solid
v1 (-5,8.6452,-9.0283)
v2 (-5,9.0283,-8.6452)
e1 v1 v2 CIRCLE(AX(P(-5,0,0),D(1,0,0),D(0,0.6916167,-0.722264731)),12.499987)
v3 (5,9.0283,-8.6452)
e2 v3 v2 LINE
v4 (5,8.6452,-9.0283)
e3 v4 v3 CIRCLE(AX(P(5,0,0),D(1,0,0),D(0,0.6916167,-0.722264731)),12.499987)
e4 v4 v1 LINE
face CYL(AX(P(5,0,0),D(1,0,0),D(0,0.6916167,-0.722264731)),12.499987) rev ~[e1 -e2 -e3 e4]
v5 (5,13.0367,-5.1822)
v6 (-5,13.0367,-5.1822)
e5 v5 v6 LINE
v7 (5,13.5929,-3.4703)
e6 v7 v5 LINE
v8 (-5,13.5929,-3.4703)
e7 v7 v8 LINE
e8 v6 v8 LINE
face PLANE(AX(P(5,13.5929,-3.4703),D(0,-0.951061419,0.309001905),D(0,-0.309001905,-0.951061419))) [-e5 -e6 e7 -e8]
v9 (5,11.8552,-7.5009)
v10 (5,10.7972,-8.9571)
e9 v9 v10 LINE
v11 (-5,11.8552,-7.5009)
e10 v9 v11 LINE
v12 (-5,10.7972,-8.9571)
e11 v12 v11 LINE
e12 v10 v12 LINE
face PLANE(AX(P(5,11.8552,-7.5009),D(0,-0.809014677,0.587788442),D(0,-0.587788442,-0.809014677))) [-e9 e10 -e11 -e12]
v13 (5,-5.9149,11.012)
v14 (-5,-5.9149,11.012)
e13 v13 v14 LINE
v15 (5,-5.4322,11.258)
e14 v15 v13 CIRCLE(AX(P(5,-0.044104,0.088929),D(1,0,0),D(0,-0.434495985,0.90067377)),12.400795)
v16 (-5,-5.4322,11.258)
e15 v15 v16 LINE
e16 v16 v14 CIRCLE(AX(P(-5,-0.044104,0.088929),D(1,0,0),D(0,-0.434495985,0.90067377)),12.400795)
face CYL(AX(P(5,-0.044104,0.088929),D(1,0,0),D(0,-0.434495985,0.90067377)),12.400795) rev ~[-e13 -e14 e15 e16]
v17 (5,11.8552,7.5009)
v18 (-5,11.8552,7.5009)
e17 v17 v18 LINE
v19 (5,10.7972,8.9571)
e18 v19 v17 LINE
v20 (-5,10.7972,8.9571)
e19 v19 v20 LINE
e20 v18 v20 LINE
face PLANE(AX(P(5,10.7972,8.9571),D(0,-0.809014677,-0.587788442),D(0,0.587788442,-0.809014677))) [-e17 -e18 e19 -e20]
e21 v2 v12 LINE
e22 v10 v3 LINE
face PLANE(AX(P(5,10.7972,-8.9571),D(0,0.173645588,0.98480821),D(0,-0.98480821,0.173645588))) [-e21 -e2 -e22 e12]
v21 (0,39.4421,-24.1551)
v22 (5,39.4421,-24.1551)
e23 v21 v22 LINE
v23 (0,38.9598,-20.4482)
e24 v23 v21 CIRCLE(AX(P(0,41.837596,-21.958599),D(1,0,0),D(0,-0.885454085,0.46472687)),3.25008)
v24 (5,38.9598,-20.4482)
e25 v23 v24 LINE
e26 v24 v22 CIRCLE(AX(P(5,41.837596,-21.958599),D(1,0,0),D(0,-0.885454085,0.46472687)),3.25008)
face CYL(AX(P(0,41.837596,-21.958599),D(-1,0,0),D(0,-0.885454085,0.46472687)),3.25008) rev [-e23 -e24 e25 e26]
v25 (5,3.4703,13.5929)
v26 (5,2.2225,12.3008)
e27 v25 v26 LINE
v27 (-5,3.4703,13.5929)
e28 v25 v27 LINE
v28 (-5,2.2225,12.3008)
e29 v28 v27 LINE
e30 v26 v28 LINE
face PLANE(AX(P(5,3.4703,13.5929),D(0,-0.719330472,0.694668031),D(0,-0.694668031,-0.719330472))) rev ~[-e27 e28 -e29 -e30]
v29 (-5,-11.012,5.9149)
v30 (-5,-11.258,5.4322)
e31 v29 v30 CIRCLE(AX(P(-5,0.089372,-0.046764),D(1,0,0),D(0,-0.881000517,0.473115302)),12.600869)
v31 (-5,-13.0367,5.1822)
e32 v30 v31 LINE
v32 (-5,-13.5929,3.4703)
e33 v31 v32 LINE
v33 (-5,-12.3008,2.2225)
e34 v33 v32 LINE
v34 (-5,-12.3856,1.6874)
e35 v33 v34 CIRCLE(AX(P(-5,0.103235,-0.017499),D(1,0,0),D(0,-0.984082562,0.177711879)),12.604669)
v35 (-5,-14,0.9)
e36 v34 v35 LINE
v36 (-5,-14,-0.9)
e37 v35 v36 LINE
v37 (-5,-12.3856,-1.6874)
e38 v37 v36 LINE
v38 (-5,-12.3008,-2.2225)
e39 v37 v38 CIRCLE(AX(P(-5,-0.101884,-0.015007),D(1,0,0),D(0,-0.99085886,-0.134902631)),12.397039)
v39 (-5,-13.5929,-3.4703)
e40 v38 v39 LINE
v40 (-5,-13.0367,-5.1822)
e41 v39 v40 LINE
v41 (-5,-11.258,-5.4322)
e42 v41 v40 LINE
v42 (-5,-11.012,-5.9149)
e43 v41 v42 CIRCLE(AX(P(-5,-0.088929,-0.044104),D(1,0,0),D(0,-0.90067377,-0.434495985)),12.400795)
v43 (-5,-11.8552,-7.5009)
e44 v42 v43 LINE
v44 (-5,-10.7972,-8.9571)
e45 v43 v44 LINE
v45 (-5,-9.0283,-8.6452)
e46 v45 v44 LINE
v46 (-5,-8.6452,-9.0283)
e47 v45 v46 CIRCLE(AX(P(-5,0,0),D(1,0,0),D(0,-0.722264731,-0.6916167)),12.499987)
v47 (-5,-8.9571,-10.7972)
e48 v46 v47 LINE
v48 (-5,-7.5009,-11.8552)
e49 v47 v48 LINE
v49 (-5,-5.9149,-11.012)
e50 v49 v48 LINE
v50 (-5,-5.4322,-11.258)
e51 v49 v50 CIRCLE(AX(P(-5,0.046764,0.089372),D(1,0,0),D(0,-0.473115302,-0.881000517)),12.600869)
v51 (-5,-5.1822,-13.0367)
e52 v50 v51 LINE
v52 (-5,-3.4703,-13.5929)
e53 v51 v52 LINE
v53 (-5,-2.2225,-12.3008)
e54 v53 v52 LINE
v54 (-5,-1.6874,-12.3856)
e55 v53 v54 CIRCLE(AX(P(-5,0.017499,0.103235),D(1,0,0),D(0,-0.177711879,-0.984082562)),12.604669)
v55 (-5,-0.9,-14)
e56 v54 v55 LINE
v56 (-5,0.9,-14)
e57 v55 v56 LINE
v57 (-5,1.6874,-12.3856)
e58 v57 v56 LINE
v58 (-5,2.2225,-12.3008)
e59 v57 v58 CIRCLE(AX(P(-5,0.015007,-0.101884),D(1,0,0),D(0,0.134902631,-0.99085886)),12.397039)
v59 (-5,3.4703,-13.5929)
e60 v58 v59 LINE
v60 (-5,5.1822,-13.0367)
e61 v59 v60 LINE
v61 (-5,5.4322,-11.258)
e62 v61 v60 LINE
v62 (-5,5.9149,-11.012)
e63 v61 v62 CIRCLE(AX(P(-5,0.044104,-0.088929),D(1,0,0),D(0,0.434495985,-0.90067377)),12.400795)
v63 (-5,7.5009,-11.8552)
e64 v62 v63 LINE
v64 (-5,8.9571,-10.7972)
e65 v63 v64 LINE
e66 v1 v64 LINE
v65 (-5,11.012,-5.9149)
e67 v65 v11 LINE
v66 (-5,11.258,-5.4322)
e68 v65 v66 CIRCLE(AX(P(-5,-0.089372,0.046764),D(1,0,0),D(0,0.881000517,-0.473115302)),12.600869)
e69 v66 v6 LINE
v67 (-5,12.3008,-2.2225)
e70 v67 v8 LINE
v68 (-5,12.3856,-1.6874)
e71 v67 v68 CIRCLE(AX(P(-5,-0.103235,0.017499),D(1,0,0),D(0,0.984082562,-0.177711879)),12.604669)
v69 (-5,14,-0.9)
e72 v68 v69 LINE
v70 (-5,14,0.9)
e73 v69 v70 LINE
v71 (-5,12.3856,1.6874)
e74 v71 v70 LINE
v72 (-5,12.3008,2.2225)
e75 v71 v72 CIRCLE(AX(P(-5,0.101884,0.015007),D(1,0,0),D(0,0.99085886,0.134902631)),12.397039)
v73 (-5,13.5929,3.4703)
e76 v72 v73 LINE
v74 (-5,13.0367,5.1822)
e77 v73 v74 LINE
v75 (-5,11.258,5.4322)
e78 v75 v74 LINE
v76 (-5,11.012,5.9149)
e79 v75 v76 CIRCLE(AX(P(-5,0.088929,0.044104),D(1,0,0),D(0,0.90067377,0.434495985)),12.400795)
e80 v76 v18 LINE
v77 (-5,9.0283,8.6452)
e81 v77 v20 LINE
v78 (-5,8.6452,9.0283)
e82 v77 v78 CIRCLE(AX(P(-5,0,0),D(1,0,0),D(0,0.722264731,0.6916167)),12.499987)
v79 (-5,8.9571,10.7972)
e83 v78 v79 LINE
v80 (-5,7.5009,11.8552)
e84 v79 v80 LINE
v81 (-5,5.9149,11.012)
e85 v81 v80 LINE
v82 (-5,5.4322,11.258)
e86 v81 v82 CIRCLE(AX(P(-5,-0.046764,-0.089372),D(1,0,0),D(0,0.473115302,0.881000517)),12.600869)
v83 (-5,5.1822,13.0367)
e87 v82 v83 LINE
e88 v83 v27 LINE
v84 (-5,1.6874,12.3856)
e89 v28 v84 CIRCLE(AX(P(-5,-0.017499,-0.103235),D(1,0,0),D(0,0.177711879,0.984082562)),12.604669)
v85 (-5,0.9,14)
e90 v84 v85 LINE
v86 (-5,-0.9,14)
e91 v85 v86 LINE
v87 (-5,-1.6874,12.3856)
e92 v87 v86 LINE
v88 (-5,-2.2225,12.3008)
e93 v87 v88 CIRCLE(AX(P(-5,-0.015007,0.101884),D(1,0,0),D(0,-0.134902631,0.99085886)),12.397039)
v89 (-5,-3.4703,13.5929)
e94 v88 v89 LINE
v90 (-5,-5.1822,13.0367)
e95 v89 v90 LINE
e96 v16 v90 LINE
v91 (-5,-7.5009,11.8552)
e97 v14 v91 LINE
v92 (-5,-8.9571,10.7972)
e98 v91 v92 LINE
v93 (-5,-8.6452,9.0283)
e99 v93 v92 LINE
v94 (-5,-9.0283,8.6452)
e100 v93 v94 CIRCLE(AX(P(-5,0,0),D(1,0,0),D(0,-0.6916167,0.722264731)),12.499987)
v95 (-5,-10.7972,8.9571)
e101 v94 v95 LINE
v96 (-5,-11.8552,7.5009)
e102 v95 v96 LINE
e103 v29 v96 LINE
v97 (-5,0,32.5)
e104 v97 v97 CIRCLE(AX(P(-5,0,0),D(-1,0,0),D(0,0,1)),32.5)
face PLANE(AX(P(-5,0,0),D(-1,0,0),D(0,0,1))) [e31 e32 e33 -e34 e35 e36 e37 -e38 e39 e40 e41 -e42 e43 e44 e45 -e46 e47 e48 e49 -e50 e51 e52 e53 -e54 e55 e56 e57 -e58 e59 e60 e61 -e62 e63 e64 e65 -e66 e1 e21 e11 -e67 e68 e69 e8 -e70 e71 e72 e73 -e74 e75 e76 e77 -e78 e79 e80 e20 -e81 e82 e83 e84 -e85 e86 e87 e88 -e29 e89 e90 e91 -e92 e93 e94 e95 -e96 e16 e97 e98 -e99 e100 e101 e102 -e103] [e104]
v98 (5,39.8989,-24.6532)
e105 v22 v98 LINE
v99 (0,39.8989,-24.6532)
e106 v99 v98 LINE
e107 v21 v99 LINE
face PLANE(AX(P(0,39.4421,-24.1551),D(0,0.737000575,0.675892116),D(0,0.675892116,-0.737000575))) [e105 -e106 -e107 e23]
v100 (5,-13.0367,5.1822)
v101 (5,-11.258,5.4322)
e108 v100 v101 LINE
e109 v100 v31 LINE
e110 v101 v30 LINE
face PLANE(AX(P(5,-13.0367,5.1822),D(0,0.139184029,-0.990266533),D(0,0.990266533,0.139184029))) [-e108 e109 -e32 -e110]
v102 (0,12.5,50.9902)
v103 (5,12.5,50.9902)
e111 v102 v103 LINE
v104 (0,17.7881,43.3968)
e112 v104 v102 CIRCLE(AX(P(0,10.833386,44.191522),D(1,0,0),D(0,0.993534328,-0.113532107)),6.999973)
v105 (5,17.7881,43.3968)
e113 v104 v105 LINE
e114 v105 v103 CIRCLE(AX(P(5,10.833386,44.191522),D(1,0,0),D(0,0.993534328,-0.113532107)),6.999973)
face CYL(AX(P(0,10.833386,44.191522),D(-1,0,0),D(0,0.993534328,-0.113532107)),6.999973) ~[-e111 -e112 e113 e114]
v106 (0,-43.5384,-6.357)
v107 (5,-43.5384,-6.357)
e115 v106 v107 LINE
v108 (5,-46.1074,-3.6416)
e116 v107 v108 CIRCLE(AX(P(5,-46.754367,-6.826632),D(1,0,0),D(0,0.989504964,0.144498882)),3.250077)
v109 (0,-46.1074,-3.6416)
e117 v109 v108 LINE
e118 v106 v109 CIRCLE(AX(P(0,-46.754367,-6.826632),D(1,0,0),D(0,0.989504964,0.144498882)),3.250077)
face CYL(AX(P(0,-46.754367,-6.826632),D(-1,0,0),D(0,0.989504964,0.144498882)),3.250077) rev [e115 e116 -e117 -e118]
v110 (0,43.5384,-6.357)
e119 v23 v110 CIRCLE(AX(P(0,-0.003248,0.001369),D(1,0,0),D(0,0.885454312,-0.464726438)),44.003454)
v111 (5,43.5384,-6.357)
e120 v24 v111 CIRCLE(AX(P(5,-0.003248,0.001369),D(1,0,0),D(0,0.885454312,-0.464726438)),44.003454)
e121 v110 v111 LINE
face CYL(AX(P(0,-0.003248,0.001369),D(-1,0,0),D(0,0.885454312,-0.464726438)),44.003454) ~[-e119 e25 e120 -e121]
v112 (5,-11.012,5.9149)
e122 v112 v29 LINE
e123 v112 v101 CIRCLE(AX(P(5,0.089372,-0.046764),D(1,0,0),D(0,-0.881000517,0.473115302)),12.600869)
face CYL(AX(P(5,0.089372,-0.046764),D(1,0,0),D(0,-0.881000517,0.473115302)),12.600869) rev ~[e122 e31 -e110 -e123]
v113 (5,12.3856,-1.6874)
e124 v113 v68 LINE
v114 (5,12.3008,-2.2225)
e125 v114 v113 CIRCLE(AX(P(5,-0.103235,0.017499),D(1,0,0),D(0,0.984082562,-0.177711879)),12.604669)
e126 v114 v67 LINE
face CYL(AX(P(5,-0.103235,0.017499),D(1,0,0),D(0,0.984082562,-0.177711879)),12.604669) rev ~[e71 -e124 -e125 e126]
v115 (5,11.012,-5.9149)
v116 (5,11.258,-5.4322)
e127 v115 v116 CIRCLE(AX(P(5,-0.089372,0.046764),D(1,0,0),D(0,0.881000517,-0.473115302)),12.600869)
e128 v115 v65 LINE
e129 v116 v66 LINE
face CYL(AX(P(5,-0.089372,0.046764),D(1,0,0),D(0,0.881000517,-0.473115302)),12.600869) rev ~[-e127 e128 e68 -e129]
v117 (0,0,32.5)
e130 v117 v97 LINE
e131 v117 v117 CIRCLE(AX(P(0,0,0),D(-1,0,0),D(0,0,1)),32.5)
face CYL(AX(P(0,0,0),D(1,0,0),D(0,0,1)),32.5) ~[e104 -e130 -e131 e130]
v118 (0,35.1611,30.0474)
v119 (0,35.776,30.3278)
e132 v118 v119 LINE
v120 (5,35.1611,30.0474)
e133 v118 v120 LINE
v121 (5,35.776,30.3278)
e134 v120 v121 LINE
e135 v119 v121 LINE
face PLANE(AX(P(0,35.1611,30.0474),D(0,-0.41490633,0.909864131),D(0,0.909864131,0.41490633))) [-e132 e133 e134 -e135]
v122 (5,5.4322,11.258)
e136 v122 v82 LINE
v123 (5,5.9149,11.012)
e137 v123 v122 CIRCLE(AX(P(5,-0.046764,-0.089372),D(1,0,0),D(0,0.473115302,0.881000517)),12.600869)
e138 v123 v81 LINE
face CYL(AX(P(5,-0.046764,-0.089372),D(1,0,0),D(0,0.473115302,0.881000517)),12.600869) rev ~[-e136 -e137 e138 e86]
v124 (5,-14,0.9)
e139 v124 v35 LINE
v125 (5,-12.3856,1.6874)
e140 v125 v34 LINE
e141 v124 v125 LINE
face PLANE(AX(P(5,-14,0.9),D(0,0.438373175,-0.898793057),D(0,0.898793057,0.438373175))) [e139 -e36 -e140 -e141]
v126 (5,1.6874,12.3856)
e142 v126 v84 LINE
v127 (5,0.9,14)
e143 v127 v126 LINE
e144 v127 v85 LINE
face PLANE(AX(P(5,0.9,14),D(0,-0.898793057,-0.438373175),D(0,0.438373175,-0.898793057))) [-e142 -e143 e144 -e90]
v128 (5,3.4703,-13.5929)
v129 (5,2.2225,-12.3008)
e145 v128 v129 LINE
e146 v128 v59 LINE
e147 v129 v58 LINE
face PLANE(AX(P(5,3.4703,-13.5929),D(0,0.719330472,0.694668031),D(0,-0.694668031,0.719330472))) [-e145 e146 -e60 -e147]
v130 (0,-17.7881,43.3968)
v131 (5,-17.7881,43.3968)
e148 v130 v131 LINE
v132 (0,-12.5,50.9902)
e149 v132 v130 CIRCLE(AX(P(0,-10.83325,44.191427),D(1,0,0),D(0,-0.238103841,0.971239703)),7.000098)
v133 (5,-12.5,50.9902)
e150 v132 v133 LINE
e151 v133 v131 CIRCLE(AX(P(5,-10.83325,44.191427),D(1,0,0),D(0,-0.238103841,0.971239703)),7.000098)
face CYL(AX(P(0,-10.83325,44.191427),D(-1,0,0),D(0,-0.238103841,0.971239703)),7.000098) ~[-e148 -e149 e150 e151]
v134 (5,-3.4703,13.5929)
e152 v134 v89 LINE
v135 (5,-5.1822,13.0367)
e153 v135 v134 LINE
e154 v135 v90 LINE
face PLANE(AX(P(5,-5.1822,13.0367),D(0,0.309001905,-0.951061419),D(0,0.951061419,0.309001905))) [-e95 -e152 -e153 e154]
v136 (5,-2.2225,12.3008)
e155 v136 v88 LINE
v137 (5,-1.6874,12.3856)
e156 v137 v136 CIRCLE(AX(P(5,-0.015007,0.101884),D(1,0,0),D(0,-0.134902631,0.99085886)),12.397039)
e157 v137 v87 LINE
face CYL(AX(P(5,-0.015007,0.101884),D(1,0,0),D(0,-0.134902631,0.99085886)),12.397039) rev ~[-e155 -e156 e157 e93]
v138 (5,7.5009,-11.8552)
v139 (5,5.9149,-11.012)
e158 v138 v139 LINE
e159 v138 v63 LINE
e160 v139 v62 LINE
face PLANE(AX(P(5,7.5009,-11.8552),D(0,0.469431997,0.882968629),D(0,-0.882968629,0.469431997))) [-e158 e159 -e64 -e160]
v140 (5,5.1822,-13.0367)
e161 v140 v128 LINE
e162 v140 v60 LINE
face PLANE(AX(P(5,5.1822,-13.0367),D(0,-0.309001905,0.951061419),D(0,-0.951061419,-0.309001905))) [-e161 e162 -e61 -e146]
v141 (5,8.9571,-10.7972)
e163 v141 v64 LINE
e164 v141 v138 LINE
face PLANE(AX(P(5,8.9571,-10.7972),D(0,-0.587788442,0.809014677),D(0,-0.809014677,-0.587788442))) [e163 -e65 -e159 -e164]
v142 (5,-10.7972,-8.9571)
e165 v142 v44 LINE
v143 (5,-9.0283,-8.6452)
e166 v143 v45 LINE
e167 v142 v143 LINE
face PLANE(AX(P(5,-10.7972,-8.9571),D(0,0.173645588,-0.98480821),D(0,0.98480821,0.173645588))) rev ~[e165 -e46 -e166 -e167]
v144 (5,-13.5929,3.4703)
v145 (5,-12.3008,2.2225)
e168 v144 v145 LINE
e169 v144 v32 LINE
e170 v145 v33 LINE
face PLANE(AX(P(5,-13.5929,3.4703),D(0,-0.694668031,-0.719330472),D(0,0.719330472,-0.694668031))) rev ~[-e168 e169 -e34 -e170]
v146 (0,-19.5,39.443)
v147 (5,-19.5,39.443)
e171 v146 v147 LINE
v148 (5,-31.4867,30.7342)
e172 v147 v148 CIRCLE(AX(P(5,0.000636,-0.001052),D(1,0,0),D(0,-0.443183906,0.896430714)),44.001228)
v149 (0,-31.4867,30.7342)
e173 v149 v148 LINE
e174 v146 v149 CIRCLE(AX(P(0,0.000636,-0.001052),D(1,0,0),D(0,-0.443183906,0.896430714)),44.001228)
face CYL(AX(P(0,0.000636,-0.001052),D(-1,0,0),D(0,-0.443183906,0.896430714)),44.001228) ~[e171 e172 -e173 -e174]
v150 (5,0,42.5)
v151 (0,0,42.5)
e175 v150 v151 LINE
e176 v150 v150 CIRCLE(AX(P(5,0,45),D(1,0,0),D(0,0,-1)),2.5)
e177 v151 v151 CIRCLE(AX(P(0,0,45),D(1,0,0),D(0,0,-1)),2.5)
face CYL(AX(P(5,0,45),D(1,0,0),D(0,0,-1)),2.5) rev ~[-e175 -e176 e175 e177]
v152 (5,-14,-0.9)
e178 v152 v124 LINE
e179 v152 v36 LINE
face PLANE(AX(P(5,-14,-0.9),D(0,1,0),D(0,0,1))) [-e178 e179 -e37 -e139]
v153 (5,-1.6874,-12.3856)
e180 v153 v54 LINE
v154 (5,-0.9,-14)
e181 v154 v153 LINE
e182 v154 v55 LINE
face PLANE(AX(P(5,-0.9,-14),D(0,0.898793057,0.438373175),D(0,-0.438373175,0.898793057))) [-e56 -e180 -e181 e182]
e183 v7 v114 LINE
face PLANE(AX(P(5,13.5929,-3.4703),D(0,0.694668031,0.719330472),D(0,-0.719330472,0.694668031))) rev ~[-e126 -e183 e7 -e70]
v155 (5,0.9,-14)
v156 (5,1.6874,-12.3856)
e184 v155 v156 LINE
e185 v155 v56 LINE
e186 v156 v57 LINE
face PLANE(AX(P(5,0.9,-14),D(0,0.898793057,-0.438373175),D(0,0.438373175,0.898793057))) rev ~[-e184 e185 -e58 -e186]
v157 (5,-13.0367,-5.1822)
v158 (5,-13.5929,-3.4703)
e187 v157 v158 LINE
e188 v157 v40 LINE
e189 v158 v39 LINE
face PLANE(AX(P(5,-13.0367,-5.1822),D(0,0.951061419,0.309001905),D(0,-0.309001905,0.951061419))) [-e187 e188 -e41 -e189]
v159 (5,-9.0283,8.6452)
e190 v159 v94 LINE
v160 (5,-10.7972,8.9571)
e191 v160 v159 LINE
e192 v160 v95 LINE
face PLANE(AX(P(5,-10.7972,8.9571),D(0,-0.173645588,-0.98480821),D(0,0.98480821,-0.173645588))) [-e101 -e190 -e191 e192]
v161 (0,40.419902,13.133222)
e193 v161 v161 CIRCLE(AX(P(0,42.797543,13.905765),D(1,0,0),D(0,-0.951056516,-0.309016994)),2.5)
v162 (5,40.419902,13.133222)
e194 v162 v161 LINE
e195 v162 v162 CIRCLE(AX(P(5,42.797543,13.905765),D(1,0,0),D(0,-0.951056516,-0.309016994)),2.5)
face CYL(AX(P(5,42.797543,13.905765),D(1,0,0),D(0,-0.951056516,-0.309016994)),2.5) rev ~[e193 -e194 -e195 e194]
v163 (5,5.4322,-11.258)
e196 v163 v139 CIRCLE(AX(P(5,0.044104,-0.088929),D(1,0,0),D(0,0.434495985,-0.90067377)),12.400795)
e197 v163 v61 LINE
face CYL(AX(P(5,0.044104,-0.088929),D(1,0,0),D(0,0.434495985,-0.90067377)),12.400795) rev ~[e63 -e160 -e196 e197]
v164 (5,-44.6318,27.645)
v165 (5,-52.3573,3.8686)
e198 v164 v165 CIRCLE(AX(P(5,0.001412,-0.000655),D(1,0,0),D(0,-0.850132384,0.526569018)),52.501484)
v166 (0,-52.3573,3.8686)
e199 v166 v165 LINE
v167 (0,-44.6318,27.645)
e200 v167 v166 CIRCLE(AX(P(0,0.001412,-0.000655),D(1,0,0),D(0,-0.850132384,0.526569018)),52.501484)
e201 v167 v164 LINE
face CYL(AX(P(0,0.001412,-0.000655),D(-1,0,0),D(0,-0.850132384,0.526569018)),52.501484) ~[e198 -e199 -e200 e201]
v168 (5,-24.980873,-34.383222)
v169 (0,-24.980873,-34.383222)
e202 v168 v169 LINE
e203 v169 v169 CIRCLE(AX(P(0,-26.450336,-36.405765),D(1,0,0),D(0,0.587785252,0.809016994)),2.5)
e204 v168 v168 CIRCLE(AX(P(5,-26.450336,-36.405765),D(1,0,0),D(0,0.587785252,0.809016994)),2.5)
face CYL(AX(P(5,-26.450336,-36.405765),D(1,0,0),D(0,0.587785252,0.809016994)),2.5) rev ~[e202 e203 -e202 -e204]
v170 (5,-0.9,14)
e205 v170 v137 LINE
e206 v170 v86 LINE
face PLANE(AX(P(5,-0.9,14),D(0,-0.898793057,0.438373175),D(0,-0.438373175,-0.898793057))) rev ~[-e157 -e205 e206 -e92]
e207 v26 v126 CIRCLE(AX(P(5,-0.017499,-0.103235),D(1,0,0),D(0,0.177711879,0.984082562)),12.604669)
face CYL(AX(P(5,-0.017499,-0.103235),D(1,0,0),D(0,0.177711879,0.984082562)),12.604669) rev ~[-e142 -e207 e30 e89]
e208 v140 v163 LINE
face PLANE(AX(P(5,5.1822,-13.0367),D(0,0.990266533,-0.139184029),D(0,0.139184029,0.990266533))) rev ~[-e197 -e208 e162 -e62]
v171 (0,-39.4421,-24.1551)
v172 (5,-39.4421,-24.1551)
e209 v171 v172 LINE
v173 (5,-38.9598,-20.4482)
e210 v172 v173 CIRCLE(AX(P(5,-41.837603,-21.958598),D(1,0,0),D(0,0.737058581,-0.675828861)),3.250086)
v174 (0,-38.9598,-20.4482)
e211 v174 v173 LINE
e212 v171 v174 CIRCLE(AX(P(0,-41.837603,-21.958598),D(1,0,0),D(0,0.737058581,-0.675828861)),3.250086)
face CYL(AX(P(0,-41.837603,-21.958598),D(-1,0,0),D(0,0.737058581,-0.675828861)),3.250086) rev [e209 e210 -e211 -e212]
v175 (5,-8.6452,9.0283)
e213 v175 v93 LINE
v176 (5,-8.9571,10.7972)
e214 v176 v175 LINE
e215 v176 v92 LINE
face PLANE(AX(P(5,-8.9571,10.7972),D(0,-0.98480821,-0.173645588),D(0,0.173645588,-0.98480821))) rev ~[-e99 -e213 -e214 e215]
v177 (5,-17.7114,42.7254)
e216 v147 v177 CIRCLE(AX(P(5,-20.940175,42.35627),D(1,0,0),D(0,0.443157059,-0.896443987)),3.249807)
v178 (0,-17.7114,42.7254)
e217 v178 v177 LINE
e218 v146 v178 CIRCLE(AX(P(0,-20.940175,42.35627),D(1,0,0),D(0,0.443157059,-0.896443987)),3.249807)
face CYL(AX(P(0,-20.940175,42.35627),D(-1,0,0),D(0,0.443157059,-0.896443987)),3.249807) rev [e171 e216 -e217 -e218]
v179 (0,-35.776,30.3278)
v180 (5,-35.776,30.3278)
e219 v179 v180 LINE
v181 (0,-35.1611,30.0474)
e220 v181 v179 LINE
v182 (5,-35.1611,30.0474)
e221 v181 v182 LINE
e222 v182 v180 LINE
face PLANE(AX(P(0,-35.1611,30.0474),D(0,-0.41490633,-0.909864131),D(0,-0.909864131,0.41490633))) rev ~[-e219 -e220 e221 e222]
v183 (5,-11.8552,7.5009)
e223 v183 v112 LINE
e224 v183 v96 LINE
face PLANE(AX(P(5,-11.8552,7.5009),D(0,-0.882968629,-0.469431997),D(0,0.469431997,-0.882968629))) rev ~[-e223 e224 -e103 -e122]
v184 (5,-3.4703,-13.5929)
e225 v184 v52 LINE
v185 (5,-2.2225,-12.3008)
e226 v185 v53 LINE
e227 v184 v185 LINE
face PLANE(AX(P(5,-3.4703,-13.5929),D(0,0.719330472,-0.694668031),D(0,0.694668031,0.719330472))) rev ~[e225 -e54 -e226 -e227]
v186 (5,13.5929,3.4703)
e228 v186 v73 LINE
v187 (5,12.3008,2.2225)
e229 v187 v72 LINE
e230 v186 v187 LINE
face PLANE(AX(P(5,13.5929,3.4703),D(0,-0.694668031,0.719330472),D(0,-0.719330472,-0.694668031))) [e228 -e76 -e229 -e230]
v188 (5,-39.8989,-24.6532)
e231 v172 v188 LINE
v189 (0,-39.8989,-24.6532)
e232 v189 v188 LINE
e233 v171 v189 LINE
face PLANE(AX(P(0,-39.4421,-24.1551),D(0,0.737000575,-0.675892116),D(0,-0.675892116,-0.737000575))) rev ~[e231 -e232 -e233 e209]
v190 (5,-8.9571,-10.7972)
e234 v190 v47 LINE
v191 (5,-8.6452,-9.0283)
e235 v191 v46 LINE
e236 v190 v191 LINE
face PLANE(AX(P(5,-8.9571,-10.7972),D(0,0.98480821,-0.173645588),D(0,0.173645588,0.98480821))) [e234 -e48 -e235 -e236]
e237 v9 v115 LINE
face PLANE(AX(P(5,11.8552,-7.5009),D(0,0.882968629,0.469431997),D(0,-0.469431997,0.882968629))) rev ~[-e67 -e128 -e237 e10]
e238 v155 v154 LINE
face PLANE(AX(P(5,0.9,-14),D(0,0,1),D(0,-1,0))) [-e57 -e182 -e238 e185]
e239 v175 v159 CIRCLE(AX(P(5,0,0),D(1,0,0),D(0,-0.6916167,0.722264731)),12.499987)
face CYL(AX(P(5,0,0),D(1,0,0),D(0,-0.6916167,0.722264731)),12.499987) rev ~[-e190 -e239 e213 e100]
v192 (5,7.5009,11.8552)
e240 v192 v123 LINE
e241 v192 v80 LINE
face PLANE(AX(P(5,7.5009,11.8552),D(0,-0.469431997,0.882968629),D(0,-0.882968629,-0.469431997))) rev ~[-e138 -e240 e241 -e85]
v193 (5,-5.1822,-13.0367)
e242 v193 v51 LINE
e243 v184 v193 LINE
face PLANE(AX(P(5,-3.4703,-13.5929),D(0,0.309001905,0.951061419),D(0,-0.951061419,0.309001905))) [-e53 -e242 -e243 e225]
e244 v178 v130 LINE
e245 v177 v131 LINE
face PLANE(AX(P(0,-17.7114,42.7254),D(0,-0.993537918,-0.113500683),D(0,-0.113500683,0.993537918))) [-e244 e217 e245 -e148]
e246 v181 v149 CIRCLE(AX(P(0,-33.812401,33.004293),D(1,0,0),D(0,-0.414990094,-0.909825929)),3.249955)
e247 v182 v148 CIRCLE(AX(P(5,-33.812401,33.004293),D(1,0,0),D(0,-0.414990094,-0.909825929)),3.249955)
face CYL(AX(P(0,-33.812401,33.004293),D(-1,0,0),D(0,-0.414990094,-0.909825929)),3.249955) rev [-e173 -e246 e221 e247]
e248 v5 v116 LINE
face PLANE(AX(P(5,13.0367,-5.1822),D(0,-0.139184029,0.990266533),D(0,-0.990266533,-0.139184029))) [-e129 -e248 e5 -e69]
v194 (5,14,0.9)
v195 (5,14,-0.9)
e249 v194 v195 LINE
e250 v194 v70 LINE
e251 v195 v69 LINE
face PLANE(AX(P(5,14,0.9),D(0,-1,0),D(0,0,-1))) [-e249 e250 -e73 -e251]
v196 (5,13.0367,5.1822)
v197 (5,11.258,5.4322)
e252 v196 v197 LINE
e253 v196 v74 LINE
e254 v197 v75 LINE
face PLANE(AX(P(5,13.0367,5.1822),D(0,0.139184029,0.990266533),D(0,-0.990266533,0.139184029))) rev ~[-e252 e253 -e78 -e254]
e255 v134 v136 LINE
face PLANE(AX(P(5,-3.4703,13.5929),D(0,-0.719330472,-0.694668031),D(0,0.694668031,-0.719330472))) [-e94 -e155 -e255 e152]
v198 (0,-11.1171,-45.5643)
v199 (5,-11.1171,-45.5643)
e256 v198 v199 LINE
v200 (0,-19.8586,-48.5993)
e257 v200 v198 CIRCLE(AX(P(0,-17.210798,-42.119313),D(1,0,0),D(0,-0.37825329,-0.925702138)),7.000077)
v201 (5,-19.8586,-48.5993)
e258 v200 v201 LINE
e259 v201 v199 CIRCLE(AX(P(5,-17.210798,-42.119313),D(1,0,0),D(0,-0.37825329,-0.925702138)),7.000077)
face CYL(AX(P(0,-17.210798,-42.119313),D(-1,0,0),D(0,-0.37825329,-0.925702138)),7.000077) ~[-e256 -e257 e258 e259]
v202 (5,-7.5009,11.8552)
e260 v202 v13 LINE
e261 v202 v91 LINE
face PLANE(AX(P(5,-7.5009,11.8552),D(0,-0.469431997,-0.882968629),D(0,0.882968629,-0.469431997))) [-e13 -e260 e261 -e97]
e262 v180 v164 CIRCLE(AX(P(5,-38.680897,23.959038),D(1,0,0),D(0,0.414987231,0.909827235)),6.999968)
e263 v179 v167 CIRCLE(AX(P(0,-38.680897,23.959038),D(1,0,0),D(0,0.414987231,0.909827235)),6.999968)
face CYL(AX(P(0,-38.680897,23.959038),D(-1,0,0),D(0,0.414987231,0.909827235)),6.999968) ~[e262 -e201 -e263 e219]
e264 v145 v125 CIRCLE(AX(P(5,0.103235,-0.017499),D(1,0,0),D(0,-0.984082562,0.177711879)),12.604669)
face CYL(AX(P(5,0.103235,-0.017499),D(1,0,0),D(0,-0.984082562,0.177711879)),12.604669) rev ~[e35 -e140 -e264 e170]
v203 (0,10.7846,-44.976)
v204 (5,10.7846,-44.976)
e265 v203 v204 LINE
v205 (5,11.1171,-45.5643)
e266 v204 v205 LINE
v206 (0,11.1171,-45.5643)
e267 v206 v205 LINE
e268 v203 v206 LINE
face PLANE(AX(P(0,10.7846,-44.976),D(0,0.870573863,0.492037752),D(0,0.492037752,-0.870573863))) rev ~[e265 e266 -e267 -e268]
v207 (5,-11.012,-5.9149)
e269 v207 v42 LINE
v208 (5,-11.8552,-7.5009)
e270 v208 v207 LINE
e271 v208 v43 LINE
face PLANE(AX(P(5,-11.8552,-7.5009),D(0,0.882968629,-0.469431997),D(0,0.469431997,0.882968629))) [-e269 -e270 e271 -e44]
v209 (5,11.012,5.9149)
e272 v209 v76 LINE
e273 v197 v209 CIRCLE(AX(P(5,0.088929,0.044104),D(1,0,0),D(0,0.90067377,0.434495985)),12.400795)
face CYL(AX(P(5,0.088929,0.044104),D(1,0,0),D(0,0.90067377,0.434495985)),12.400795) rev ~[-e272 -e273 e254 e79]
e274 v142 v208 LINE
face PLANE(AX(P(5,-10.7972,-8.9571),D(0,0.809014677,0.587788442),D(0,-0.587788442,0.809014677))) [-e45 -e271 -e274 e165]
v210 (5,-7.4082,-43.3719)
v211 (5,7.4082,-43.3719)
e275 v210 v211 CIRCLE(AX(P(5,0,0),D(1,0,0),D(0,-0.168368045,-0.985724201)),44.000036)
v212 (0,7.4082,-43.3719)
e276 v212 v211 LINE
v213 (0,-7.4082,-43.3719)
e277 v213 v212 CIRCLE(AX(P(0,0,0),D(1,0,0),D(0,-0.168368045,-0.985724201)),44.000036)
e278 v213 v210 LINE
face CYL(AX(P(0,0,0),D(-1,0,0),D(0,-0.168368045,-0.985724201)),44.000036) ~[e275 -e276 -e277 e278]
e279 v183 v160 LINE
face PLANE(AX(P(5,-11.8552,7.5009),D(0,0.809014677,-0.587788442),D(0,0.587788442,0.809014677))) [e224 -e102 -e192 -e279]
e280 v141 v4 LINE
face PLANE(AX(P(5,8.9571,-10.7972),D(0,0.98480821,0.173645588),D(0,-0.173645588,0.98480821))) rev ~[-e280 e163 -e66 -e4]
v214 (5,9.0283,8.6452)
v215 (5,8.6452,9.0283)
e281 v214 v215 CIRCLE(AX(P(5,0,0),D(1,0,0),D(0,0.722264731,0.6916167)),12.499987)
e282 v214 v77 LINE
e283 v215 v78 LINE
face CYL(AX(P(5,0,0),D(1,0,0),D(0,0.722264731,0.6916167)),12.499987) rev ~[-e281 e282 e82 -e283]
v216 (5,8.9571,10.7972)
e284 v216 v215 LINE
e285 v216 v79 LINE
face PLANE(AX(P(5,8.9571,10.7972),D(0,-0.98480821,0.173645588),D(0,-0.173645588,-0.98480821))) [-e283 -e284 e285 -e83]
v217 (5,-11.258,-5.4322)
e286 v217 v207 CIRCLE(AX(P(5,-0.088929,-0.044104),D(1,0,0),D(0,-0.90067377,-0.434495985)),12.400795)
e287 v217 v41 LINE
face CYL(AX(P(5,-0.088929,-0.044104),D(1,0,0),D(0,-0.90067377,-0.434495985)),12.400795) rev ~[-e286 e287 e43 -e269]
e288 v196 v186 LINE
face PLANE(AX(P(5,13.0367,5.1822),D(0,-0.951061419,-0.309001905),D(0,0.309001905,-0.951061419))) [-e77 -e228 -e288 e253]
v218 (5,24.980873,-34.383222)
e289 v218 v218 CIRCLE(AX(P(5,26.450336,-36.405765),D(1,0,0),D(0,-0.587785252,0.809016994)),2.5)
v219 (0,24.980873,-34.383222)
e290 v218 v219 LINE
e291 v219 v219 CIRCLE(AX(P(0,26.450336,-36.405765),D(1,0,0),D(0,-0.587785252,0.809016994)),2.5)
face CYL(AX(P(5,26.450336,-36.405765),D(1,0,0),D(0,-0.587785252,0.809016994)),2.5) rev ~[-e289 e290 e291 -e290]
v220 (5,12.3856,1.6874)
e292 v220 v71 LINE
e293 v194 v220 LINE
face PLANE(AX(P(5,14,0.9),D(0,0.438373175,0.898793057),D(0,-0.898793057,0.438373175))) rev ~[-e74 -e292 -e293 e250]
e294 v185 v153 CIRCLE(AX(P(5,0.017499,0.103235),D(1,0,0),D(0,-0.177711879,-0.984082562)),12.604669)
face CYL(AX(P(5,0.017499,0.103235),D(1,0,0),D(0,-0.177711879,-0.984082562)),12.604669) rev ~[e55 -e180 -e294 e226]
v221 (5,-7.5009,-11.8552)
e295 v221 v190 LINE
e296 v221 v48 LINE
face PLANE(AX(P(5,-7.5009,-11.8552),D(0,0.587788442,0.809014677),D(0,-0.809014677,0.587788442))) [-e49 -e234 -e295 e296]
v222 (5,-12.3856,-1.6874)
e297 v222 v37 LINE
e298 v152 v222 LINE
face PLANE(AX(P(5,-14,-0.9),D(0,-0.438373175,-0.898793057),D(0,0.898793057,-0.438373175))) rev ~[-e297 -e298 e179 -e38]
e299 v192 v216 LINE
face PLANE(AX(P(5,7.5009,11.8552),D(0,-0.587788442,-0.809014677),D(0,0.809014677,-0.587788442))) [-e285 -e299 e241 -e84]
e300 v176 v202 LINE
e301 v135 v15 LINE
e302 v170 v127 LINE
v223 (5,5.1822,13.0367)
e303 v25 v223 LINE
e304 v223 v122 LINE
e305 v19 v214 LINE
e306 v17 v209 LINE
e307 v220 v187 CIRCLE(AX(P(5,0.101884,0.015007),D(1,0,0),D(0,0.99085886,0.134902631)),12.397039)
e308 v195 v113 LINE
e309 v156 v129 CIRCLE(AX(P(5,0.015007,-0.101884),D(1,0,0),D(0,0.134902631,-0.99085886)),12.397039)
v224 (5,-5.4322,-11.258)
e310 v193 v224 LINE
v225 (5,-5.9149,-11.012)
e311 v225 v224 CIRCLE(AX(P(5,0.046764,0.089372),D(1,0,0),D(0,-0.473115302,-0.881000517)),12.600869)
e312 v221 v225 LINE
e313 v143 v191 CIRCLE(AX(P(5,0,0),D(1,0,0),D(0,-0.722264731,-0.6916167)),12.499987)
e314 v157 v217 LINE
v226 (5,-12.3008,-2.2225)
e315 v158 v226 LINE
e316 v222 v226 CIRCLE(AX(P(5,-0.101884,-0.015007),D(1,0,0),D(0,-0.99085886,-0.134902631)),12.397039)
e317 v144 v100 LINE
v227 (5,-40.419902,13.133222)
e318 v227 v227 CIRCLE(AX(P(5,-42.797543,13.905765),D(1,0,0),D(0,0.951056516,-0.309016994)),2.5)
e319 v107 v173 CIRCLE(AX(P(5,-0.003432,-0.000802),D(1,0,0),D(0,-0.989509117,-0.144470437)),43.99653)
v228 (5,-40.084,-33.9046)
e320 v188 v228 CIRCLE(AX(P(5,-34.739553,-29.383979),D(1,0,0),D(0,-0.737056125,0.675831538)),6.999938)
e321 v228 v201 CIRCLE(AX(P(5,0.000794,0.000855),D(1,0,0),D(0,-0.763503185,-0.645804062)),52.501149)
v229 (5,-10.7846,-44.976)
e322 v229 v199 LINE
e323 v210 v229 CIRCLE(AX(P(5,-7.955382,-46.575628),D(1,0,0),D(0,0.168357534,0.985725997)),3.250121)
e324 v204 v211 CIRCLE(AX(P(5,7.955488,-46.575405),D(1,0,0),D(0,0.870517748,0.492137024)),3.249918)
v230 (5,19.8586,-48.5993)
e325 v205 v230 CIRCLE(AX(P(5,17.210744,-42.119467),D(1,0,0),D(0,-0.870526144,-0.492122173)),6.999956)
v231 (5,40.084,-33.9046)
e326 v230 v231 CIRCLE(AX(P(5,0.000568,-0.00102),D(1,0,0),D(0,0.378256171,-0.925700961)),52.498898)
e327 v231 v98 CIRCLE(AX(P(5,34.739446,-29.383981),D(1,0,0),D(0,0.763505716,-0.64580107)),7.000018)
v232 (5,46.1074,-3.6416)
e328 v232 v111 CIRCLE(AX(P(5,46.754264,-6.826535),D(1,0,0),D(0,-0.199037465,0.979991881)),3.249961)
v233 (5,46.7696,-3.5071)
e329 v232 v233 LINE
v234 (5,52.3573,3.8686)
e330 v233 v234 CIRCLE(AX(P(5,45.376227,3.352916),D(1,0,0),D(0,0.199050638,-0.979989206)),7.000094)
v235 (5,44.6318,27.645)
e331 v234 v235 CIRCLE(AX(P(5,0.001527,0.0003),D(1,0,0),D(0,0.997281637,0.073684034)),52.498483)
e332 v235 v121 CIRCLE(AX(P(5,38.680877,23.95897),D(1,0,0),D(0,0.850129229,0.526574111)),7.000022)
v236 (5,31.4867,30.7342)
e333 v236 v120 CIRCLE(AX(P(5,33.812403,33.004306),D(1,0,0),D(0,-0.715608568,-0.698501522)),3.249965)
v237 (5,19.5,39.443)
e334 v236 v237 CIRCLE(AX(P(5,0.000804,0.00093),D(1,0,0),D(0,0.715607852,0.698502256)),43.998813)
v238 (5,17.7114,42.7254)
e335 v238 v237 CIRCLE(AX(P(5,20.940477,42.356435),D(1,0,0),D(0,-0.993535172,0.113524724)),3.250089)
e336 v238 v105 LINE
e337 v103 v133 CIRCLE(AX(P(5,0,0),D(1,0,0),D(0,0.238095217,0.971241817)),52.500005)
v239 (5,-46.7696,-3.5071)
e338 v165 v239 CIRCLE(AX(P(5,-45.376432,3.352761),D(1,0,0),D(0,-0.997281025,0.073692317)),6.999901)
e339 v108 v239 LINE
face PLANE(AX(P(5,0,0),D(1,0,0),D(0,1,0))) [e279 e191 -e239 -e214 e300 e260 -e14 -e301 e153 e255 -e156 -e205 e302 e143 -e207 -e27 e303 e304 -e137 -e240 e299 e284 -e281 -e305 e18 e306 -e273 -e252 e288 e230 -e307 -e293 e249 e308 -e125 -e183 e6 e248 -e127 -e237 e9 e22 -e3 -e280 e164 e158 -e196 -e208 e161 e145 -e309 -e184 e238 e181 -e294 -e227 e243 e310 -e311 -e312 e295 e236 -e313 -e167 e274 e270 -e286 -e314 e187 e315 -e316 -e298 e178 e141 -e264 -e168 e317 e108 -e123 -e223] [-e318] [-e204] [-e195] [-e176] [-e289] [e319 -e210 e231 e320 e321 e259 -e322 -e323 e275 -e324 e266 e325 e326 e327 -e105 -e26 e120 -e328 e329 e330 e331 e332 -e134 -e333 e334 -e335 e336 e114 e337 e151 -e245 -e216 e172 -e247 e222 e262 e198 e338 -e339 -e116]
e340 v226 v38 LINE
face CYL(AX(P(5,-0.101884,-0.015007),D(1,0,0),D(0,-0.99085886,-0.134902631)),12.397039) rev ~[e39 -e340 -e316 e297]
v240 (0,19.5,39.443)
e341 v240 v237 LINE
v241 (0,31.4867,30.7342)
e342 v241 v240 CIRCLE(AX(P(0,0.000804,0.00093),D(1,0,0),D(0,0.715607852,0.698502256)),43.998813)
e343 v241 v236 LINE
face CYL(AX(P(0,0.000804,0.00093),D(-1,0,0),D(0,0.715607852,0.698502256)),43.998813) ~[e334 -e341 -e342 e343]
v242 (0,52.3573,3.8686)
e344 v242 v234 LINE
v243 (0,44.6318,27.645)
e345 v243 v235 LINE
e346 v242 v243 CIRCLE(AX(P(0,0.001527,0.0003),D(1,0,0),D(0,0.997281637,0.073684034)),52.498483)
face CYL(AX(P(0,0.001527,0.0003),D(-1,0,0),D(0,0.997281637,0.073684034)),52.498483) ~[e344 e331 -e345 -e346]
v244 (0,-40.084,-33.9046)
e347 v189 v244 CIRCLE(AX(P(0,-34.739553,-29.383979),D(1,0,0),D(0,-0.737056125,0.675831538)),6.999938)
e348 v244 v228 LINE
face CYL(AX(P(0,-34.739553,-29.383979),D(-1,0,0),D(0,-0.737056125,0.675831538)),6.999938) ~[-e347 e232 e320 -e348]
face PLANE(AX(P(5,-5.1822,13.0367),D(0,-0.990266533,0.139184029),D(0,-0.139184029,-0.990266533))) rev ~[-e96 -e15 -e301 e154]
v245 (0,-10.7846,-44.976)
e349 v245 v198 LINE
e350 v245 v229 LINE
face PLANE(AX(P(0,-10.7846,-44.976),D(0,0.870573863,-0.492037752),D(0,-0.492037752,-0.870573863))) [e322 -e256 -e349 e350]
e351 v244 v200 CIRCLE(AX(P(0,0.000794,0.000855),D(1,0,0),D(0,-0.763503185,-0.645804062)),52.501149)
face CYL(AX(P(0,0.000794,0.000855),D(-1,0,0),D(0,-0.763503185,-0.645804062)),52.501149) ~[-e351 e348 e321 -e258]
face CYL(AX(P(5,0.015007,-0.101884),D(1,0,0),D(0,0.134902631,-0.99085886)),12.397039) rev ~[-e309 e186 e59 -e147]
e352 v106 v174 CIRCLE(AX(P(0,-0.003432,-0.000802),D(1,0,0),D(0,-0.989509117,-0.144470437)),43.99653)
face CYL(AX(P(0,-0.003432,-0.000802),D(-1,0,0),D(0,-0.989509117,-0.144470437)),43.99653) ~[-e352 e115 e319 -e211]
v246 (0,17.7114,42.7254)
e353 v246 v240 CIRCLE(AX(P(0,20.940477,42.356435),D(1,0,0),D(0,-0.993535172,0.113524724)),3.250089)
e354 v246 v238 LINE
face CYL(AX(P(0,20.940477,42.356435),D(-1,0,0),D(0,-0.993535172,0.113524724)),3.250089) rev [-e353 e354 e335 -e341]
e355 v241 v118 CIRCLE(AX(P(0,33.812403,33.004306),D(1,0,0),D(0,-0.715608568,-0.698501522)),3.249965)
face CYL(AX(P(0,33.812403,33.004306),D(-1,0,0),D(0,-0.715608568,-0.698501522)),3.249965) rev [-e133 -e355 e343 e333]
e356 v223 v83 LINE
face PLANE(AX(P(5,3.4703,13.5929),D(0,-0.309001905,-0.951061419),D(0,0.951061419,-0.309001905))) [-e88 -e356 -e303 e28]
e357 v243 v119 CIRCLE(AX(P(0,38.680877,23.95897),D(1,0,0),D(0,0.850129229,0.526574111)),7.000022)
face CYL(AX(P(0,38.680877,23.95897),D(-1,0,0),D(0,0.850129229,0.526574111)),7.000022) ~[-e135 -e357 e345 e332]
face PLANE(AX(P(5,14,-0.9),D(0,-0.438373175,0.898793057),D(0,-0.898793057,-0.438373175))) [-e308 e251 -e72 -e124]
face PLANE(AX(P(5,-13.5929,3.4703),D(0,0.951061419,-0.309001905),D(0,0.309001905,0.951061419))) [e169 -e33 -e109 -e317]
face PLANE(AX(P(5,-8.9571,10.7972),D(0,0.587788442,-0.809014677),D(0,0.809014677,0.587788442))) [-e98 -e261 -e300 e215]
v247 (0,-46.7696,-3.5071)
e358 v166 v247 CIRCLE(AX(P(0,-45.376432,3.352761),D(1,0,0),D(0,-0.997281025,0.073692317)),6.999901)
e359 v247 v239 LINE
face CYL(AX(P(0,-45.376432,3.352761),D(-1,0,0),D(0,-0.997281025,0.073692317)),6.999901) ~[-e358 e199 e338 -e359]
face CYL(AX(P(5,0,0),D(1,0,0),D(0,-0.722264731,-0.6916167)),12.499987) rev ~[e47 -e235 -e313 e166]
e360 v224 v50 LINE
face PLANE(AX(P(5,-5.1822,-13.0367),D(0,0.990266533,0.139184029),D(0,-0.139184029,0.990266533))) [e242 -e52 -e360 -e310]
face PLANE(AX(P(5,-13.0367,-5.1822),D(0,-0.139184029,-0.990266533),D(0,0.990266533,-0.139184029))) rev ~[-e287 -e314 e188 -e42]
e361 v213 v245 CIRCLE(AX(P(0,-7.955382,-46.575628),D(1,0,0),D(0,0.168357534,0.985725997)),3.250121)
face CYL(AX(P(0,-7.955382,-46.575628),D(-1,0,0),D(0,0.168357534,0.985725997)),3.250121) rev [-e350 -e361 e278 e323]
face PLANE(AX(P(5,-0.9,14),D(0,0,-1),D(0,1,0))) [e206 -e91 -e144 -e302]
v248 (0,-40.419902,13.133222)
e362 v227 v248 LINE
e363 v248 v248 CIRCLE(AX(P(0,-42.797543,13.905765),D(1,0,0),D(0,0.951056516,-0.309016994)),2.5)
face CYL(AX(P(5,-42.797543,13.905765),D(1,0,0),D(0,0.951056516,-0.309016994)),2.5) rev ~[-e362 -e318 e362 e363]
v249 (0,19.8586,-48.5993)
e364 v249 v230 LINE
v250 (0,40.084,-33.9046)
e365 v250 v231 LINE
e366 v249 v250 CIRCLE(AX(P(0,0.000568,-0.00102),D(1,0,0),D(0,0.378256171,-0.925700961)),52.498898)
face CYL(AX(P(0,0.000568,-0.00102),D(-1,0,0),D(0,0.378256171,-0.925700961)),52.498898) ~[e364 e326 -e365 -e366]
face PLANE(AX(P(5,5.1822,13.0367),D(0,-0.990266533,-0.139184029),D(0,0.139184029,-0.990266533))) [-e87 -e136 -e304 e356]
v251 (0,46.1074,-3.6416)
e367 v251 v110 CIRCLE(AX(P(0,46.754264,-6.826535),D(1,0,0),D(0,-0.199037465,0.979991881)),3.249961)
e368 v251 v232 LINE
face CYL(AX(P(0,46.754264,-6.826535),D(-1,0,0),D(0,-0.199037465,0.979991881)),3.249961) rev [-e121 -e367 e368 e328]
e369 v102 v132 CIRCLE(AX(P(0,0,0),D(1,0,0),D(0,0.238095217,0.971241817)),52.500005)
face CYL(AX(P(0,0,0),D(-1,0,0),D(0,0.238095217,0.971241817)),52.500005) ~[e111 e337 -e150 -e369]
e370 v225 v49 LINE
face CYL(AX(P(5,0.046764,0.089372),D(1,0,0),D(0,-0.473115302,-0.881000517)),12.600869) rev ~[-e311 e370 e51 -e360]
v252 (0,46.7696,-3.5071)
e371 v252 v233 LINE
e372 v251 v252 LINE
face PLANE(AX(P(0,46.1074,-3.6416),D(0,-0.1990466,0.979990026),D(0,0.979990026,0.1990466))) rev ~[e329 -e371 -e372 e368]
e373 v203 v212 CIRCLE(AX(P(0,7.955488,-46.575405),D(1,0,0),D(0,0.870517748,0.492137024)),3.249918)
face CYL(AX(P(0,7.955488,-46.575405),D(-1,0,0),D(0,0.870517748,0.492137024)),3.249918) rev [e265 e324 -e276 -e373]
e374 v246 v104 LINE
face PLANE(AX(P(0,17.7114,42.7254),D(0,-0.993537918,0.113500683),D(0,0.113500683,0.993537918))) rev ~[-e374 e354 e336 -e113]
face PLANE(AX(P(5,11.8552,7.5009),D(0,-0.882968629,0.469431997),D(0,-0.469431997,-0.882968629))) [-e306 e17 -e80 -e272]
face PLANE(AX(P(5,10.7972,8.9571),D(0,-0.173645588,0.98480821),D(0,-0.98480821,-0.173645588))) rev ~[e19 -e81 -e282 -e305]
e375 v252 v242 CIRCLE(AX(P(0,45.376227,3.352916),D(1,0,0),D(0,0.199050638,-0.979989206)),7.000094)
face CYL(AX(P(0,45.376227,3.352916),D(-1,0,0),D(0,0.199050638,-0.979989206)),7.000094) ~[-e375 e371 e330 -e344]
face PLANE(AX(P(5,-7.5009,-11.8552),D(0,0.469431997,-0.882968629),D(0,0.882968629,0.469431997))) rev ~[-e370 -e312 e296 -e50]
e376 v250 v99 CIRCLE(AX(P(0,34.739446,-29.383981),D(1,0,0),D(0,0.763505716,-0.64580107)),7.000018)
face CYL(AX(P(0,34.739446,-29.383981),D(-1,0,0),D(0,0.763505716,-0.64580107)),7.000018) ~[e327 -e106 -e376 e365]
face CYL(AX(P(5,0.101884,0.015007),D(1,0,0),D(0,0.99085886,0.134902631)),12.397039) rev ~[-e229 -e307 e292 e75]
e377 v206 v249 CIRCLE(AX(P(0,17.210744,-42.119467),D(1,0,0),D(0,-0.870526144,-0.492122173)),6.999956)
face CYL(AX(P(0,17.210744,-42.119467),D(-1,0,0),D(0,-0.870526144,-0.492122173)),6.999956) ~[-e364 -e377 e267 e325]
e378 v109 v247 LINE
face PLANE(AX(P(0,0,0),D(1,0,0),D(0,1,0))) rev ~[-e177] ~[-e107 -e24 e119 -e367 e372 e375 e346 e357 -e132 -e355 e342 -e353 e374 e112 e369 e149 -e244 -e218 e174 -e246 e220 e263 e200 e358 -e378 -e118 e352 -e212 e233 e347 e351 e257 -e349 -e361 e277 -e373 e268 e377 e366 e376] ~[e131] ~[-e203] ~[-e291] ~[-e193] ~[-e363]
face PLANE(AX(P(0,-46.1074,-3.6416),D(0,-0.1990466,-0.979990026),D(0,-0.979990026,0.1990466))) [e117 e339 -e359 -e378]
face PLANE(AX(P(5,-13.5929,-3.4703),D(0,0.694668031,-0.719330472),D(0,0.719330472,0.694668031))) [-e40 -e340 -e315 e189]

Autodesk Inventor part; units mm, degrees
ref_plane "YZ Plane" through (0, 0, 0) normal (1, 0, 0) x (0, 1, 0)
ref_plane "XZ Plane" through (0, 0, 0) normal (0, 1, 0) x (-1, 0, 0)
ref_plane "XY Plane" through (0, 0, 0) normal (0, 0, 1) x (1, 0, 0)
sketch "Sketch1" plane through (0, 0, 0) normal (1, 0, 0) x (0, 1, 0)
  arc A0 (12.5, 50.9902) -> (-12.5, 50.9902) centre (0, 0) ccw
  arc A1 (-19.5, 39.443) -> (-17.7114, 42.7254) centre (-20.9403, 42.3564) ccw
  line L0 (-17.7114, 42.7254) -> (-17.7881, 43.3968)
  arc A2 (-12.5, 50.9902) -> (-17.7881, 43.3968) centre (-10.8333, 44.1915) ccw
  line L1 (0, 0) -> (0, 52.5) construction
  arc A3 (17.7881, 43.3968) -> (12.5, 50.9902) centre (10.8333, 44.1915) ccw
  line L2 (17.7114, 42.7254) -> (17.7881, 43.3968)
  arc A4 (17.7114, 42.7254) -> (19.5, 39.443) centre (20.9403, 42.3564) ccw
  arc A5 (-44.6318, 27.645) -> (-52.3573, 3.8686) centre (0, 0) ccw
  arc A6 (-43.5384, -6.357) -> (-46.1074, -3.6416) centre (-46.7543, -6.8266) ccw
  line L3 (-46.1074, -3.6416) -> (-46.7696, -3.5071)
  arc A7 (-52.3573, 3.8686) -> (-46.7696, -3.5071) centre (-45.3763, 3.3528) ccw
  line L4 (0, 0) -> (-49.9305, 16.2234) construction
  arc A8 (-35.776, 30.3278) -> (-44.6318, 27.645) centre (-38.6809, 23.959) ccw
  line L5 (-35.1611, 30.0474) -> (-35.776, 30.3278)
  arc A9 (-35.1611, 30.0474) -> (-31.4867, 30.7342) centre (-33.8124, 33.0043) ccw
  arc A10 (-40.084, -33.9046) -> (-19.8586, -48.5993) centre (0, 0) ccw
  arc A11 (-7.4082, -43.3719) -> (-10.7846, -44.976) centre (-7.9554, -46.5755) ccw
  line L6 (-10.7846, -44.976) -> (-11.1171, -45.5643)
  arc A12 (-19.8586, -48.5993) -> (-11.1171, -45.5643) centre (-17.2108, -42.1194) ccw
  line L7 (0, 0) -> (-30.8587, -42.4734) construction
  arc A13 (-39.8989, -24.6532) -> (-40.084, -33.9046) centre (-34.7395, -29.384) ccw
  line L8 (-39.4421, -24.1551) -> (-39.8989, -24.6532)
  arc A14 (-39.4421, -24.1551) -> (-38.9598, -20.4482) centre (-41.8376, -21.9586) ccw
  arc A15 (19.8586, -48.5993) -> (40.084, -33.9046) centre (0, 0) ccw
  arc A16 (38.9598, -20.4482) -> (39.4421, -24.1551) centre (41.8376, -21.9586) ccw
  line L9 (39.4421, -24.1551) -> (39.8989, -24.6532)
  arc A17 (40.084, -33.9046) -> (39.8989, -24.6532) centre (34.7395, -29.384) ccw
  line L10 (0, 0) -> (30.8587, -42.4734) construction
  arc A18 (11.1171, -45.5643) -> (19.8586, -48.5993) centre (17.2108, -42.1194) ccw
  line L11 (10.7846, -44.976) -> (11.1171, -45.5643)
  arc A19 (10.7846, -44.976) -> (7.4082, -43.3719) centre (7.9554, -46.5755) ccw
  arc A20 (52.3573, 3.8686) -> (44.6318, 27.645) centre (0, 0) ccw
  arc A21 (31.4867, 30.7342) -> (35.1611, 30.0474) centre (33.8124, 33.0043) ccw
  line L12 (35.1611, 30.0474) -> (35.776, 30.3278)
  arc A22 (44.6318, 27.645) -> (35.776, 30.3278) centre (38.6809, 23.959) ccw
  line L13 (0, 0) -> (49.9305, 16.2234) construction
  arc A23 (46.7696, -3.5071) -> (52.3573, 3.8686) centre (45.3763, 3.3528) ccw
  line L14 (46.1074, -3.6416) -> (46.7696, -3.5071)
  arc A24 (46.1074, -3.6416) -> (43.5384, -6.357) centre (46.7543, -6.8266) ccw
  arc A25 (38.9598, -20.4482) -> (43.5384, -6.357) centre (0, 0) ccw
  arc A26 (-7.4082, -43.3719) -> (7.4082, -43.3719) centre (0, 0) ccw
  arc A27 (-43.5384, -6.357) -> (-38.9598, -20.4482) centre (0, 0) ccw
  arc A28 (31.4867, 30.7342) -> (19.5, 39.443) centre (0, 0) ccw
  arc A29 (-19.5, 39.443) -> (-31.4867, 30.7342) centre (0, 0) ccw
  dimension "d118" = 52.5
  dimension "d119" = 7
  dimension "d120" = 3.25
  dimension "d121" = 360
  dimension "d122" = 44
  dimension "d123" = 12.5
  dimension "d124" = 19.5
extrude "Extrusion1" add sketch "Sketch1" along normal blind 5
sketch "Sketch2" plane through (0, 0, 0) normal (-1, 0, 0) x (0, 0, 1)
  circle A0 centre (0, 0) radius 32.5
  dimension "d104" = 65
extrude "Extrusion2" add sketch "Sketch2" along normal blind 5
sketch "Sketch3" plane through (5, 0, 0) normal (1, 0, 0) x (0, 0, -1)
  line L0 (0, -73.3268) -> (0, 73.3268) construction
  line L1 (69.4432, 0) -> (-72.8239, 0) construction
  circle A0 centre (-45, 0) radius 2.5
  point P0 (0, 0)
  dimension "d107" = 5
  dimension "d108" = 45
extrude "Extrusion3" cut sketch "Sketch3" against normal through all
pattern_circular "Circular Pattern1" count 5 over 360 about axis through (-10, 0, 0) along (1, 0, 0) of "Extrusion3"
sketch "Sketch4" plane through (5, 0, 0) normal (1, 0, 0) x (0, 0, -1)
  arc A0 (-5.4322, 11.258) -> (-5.9149, 11.012) centre (0, 0) ccw
  line L0 (0, -21) -> (0, 21) construction
  line L1 (-0.9, 14) -> (0.9, 14)
  line L2 (-0.9, 14) -> (-1.6874, 12.3856)
  line L3 (0.9, 14) -> (1.6874, 12.3856)
  line L4 (-5.1822, 13.0367) -> (-5.4322, 11.258)
  line L5 (-5.1822, 13.0367) -> (-3.4703, 13.5929)
  line L6 (-3.4703, 13.5929) -> (-2.2225, 12.3008)
  line L7 (-8.9571, 10.7972) -> (-8.6452, 9.0283)
  line L8 (-8.9571, 10.7972) -> (-7.5009, 11.8552)
  line L9 (-7.5009, 11.8552) -> (-5.9149, 11.012)
  line L10 (-11.8552, 7.5009) -> (-11.012, 5.9149)
  line L11 (-11.8552, 7.5009) -> (-10.7972, 8.9571)
  line L12 (-10.7972, 8.9571) -> (-9.0283, 8.6452)
  line L13 (-13.5929, 3.4703) -> (-12.3008, 2.2225)
  line L14 (-13.5929, 3.4703) -> (-13.0367, 5.1822)
  line L15 (-13.0367, 5.1822) -> (-11.258, 5.4322)
  line L16 (-14, -0.9) -> (-12.3856, -1.6874)
  line L17 (-14, -0.9) -> (-14, 0.9)
  line L18 (-14, 0.9) -> (-12.3856, 1.6874)
  line L19 (-13.0367, -5.1822) -> (-11.258, -5.4322)
  line L20 (-13.0367, -5.1822) -> (-13.5929, -3.4703)
  line L21 (-13.5929, -3.4703) -> (-12.3008, -2.2225)
  line L22 (-10.7972, -8.9571) -> (-9.0283, -8.6452)
  line L23 (-10.7972, -8.9571) -> (-11.8552, -7.5009)
  line L24 (-11.8552, -7.5009) -> (-11.012, -5.9149)
  line L25 (-7.5009, -11.8552) -> (-5.9149, -11.012)
  line L26 (-7.5009, -11.8552) -> (-8.9571, -10.7972)
  line L27 (-8.9571, -10.7972) -> (-8.6452, -9.0283)
  line L28 (-3.4703, -13.5929) -> (-2.2225, -12.3008)
  line L29 (-3.4703, -13.5929) -> (-5.1822, -13.0367)
  line L30 (-5.1822, -13.0367) -> (-5.4322, -11.258)
  line L31 (0.9, -14) -> (1.6874, -12.3856)
  line L32 (0.9, -14) -> (-0.9, -14)
  line L33 (-0.9, -14) -> (-1.6874, -12.3856)
  line L34 (5.1822, -13.0367) -> (5.4322, -11.258)
  line L35 (5.1822, -13.0367) -> (3.4703, -13.5929)
  line L36 (3.4703, -13.5929) -> (2.2225, -12.3008)
  line L37 (8.9571, -10.7972) -> (8.6452, -9.0283)
  line L38 (8.9571, -10.7972) -> (7.5009, -11.8552)
  line L39 (7.5009, -11.8552) -> (5.9149, -11.012)
  line L40 (11.8552, -7.5009) -> (11.012, -5.9149)
  line L41 (11.8552, -7.5009) -> (10.7972, -8.9571)
  line L42 (10.7972, -8.9571) -> (9.0283, -8.6452)
  line L43 (13.5929, -3.4703) -> (12.3008, -2.2225)
  line L44 (13.5929, -3.4703) -> (13.0367, -5.1822)
  line L45 (13.0367, -5.1822) -> (11.258, -5.4322)
  line L46 (14, 0.9) -> (12.3856, 1.6874)
  line L47 (14, 0.9) -> (14, -0.9)
  line L48 (14, -0.9) -> (12.3856, -1.6874)
  line L49 (13.0367, 5.1822) -> (11.258, 5.4322)
  line L50 (13.0367, 5.1822) -> (13.5929, 3.4703)
  line L51 (13.5929, 3.4703) -> (12.3008, 2.2225)
  line L52 (10.7972, 8.9571) -> (9.0283, 8.6452)
  line L53 (10.7972, 8.9571) -> (11.8552, 7.5009)
  line L54 (11.8552, 7.5009) -> (11.012, 5.9149)
  line L55 (7.5009, 11.8552) -> (5.9149, 11.012)
  line L56 (7.5009, 11.8552) -> (8.9571, 10.7972)
  line L57 (8.9571, 10.7972) -> (8.6452, 9.0283)
  line L58 (3.4703, 13.5929) -> (2.2225, 12.3008)
  line L59 (3.4703, 13.5929) -> (5.1822, 13.0367)
  line L60 (5.1822, 13.0367) -> (5.4322, 11.258)
  arc A1 (-2.2225, 12.3008) -> (-5.4322, 11.258) centre (0, 0) ccw
  arc A2 (-5.9149, 11.012) -> (-8.6452, 9.0283) centre (0, 0) ccw
  arc A3 (-8.6452, 9.0283) -> (-9.0283, 8.6452) centre (0, 0) ccw
  arc A4 (-9.0283, 8.6452) -> (-11.012, 5.9149) centre (0, 0) ccw
  arc A5 (-11.012, 5.9149) -> (-11.258, 5.4322) centre (0, 0) ccw
  arc A6 (-11.258, 5.4322) -> (-12.3008, 2.2225) centre (0, 0) ccw
  arc A7 (-12.3008, 2.2225) -> (-12.3856, 1.6874) centre (0, 0) ccw
  arc A8 (-12.3856, 1.6874) -> (-12.3856, -1.6874) centre (0, 0) ccw
  arc A9 (-12.3856, -1.6874) -> (-12.3008, -2.2225) centre (0, 0) ccw
  arc A10 (-12.3008, -2.2225) -> (-11.258, -5.4322) centre (0, 0) ccw
  arc A11 (-11.258, -5.4322) -> (-11.012, -5.9149) centre (0, 0) ccw
  arc A12 (-11.012, -5.9149) -> (-9.0283, -8.6452) centre (0, 0) ccw
  arc A13 (-8.6452, -9.0283) -> (-5.9149, -11.012) centre (0, 0) ccw
  arc A14 (-5.9149, -11.012) -> (-5.4322, -11.258) centre (0, 0) ccw
  arc A15 (-5.4322, -11.258) -> (-2.2225, -12.3008) centre (0, 0) ccw
  arc A16 (-2.2225, -12.3008) -> (-1.6874, -12.3856) centre (0, 0) ccw
  arc A17 (-1.6874, -12.3856) -> (1.6874, -12.3856) centre (0, 0) ccw
  arc A18 (1.6874, -12.3856) -> (2.2225, -12.3008) centre (0, 0) ccw
  arc A19 (2.2225, -12.3008) -> (5.4322, -11.258) centre (0, 0) ccw
  arc A20 (5.4322, -11.258) -> (5.9149, -11.012) centre (0, 0) ccw
  arc A21 (5.9149, -11.012) -> (8.6452, -9.0283) centre (0, 0) ccw
  arc A22 (8.6452, -9.0283) -> (9.0283, -8.6452) centre (0, 0) ccw
  arc A23 (9.0283, -8.6452) -> (11.012, -5.9149) centre (0, 0) ccw
  arc A24 (11.012, -5.9149) -> (11.258, -5.4322) centre (0, 0) ccw
  arc A25 (11.258, -5.4322) -> (12.3008, -2.2225) centre (0, 0) ccw
  arc A26 (12.3008, -2.2225) -> (12.3856, -1.6874) centre (0, 0) ccw
  arc A27 (12.3856, -1.6874) -> (12.3856, 1.6874) centre (0, 0) ccw
  arc A28 (12.3856, 1.6874) -> (12.3008, 2.2225) centre (0, 0) ccw
  arc A29 (11.258, 5.4322) -> (11.012, 5.9149) centre (0, 0) ccw
  arc A30 (12.3008, 2.2225) -> (11.258, 5.4322) centre (0, 0) ccw
  arc A31 (11.012, 5.9149) -> (9.0283, 8.6452) centre (0, 0) ccw
  arc A32 (9.0283, 8.6452) -> (8.6452, 9.0283) centre (0, 0) ccw
  arc A33 (5.9149, 11.012) -> (5.4322, 11.258) centre (0, 0) ccw
  arc A34 (8.6452, 9.0283) -> (5.9149, 11.012) centre (0, 0) ccw
  arc A35 (2.2225, 12.3008) -> (1.6874, 12.3856) centre (0, 0) ccw
  arc A36 (5.4322, 11.258) -> (2.2225, 12.3008) centre (0, 0) ccw
  arc A37 (1.6874, 12.3856) -> (-1.6874, 12.3856) centre (0, 0) ccw
  arc A38 (-1.6874, 12.3856) -> (-2.2225, 12.3008) centre (0, 0) ccw
  arc A39 (-9.0283, -8.6452) -> (-8.6452, -9.0283) centre (0, 0) ccw
  point P0 (0, 14)
  point P1 (-4.3262, 13.3148)
  point P2 (-8.229, 11.3262)
  point P3 (-11.3262, 8.229)
  point P4 (-13.3148, 4.3262)
  point P5 (-14, 0)
  point P6 (-13.3148, -4.3262)
  point P7 (-11.3262, -8.229)
  point P8 (-8.229, -11.3262)
  point P9 (-4.3262, -13.3148)
  point P10 (0, -14)
  point P11 (4.3262, -13.3148)
  point P12 (8.229, -11.3262)
  point P13 (11.3262, -8.229)
  point P14 (13.3148, -4.3262)
  point P15 (14, 0)
  point P16 (13.3148, 4.3262)
  point P17 (11.3262, 8.229)
  point P18 (8.229, 11.3262)
  point P19 (4.3262, 13.3148)
  dimension "d127" = 25
  dimension "d128" = 1.8
  dimension "d129" = 14
  dimension "d130" = 116
  dimension "d131" = 360
extrude "Extrusion4" cut sketch "Sketch4" against normal through all
properties part number "362-04" material "Titanium"
